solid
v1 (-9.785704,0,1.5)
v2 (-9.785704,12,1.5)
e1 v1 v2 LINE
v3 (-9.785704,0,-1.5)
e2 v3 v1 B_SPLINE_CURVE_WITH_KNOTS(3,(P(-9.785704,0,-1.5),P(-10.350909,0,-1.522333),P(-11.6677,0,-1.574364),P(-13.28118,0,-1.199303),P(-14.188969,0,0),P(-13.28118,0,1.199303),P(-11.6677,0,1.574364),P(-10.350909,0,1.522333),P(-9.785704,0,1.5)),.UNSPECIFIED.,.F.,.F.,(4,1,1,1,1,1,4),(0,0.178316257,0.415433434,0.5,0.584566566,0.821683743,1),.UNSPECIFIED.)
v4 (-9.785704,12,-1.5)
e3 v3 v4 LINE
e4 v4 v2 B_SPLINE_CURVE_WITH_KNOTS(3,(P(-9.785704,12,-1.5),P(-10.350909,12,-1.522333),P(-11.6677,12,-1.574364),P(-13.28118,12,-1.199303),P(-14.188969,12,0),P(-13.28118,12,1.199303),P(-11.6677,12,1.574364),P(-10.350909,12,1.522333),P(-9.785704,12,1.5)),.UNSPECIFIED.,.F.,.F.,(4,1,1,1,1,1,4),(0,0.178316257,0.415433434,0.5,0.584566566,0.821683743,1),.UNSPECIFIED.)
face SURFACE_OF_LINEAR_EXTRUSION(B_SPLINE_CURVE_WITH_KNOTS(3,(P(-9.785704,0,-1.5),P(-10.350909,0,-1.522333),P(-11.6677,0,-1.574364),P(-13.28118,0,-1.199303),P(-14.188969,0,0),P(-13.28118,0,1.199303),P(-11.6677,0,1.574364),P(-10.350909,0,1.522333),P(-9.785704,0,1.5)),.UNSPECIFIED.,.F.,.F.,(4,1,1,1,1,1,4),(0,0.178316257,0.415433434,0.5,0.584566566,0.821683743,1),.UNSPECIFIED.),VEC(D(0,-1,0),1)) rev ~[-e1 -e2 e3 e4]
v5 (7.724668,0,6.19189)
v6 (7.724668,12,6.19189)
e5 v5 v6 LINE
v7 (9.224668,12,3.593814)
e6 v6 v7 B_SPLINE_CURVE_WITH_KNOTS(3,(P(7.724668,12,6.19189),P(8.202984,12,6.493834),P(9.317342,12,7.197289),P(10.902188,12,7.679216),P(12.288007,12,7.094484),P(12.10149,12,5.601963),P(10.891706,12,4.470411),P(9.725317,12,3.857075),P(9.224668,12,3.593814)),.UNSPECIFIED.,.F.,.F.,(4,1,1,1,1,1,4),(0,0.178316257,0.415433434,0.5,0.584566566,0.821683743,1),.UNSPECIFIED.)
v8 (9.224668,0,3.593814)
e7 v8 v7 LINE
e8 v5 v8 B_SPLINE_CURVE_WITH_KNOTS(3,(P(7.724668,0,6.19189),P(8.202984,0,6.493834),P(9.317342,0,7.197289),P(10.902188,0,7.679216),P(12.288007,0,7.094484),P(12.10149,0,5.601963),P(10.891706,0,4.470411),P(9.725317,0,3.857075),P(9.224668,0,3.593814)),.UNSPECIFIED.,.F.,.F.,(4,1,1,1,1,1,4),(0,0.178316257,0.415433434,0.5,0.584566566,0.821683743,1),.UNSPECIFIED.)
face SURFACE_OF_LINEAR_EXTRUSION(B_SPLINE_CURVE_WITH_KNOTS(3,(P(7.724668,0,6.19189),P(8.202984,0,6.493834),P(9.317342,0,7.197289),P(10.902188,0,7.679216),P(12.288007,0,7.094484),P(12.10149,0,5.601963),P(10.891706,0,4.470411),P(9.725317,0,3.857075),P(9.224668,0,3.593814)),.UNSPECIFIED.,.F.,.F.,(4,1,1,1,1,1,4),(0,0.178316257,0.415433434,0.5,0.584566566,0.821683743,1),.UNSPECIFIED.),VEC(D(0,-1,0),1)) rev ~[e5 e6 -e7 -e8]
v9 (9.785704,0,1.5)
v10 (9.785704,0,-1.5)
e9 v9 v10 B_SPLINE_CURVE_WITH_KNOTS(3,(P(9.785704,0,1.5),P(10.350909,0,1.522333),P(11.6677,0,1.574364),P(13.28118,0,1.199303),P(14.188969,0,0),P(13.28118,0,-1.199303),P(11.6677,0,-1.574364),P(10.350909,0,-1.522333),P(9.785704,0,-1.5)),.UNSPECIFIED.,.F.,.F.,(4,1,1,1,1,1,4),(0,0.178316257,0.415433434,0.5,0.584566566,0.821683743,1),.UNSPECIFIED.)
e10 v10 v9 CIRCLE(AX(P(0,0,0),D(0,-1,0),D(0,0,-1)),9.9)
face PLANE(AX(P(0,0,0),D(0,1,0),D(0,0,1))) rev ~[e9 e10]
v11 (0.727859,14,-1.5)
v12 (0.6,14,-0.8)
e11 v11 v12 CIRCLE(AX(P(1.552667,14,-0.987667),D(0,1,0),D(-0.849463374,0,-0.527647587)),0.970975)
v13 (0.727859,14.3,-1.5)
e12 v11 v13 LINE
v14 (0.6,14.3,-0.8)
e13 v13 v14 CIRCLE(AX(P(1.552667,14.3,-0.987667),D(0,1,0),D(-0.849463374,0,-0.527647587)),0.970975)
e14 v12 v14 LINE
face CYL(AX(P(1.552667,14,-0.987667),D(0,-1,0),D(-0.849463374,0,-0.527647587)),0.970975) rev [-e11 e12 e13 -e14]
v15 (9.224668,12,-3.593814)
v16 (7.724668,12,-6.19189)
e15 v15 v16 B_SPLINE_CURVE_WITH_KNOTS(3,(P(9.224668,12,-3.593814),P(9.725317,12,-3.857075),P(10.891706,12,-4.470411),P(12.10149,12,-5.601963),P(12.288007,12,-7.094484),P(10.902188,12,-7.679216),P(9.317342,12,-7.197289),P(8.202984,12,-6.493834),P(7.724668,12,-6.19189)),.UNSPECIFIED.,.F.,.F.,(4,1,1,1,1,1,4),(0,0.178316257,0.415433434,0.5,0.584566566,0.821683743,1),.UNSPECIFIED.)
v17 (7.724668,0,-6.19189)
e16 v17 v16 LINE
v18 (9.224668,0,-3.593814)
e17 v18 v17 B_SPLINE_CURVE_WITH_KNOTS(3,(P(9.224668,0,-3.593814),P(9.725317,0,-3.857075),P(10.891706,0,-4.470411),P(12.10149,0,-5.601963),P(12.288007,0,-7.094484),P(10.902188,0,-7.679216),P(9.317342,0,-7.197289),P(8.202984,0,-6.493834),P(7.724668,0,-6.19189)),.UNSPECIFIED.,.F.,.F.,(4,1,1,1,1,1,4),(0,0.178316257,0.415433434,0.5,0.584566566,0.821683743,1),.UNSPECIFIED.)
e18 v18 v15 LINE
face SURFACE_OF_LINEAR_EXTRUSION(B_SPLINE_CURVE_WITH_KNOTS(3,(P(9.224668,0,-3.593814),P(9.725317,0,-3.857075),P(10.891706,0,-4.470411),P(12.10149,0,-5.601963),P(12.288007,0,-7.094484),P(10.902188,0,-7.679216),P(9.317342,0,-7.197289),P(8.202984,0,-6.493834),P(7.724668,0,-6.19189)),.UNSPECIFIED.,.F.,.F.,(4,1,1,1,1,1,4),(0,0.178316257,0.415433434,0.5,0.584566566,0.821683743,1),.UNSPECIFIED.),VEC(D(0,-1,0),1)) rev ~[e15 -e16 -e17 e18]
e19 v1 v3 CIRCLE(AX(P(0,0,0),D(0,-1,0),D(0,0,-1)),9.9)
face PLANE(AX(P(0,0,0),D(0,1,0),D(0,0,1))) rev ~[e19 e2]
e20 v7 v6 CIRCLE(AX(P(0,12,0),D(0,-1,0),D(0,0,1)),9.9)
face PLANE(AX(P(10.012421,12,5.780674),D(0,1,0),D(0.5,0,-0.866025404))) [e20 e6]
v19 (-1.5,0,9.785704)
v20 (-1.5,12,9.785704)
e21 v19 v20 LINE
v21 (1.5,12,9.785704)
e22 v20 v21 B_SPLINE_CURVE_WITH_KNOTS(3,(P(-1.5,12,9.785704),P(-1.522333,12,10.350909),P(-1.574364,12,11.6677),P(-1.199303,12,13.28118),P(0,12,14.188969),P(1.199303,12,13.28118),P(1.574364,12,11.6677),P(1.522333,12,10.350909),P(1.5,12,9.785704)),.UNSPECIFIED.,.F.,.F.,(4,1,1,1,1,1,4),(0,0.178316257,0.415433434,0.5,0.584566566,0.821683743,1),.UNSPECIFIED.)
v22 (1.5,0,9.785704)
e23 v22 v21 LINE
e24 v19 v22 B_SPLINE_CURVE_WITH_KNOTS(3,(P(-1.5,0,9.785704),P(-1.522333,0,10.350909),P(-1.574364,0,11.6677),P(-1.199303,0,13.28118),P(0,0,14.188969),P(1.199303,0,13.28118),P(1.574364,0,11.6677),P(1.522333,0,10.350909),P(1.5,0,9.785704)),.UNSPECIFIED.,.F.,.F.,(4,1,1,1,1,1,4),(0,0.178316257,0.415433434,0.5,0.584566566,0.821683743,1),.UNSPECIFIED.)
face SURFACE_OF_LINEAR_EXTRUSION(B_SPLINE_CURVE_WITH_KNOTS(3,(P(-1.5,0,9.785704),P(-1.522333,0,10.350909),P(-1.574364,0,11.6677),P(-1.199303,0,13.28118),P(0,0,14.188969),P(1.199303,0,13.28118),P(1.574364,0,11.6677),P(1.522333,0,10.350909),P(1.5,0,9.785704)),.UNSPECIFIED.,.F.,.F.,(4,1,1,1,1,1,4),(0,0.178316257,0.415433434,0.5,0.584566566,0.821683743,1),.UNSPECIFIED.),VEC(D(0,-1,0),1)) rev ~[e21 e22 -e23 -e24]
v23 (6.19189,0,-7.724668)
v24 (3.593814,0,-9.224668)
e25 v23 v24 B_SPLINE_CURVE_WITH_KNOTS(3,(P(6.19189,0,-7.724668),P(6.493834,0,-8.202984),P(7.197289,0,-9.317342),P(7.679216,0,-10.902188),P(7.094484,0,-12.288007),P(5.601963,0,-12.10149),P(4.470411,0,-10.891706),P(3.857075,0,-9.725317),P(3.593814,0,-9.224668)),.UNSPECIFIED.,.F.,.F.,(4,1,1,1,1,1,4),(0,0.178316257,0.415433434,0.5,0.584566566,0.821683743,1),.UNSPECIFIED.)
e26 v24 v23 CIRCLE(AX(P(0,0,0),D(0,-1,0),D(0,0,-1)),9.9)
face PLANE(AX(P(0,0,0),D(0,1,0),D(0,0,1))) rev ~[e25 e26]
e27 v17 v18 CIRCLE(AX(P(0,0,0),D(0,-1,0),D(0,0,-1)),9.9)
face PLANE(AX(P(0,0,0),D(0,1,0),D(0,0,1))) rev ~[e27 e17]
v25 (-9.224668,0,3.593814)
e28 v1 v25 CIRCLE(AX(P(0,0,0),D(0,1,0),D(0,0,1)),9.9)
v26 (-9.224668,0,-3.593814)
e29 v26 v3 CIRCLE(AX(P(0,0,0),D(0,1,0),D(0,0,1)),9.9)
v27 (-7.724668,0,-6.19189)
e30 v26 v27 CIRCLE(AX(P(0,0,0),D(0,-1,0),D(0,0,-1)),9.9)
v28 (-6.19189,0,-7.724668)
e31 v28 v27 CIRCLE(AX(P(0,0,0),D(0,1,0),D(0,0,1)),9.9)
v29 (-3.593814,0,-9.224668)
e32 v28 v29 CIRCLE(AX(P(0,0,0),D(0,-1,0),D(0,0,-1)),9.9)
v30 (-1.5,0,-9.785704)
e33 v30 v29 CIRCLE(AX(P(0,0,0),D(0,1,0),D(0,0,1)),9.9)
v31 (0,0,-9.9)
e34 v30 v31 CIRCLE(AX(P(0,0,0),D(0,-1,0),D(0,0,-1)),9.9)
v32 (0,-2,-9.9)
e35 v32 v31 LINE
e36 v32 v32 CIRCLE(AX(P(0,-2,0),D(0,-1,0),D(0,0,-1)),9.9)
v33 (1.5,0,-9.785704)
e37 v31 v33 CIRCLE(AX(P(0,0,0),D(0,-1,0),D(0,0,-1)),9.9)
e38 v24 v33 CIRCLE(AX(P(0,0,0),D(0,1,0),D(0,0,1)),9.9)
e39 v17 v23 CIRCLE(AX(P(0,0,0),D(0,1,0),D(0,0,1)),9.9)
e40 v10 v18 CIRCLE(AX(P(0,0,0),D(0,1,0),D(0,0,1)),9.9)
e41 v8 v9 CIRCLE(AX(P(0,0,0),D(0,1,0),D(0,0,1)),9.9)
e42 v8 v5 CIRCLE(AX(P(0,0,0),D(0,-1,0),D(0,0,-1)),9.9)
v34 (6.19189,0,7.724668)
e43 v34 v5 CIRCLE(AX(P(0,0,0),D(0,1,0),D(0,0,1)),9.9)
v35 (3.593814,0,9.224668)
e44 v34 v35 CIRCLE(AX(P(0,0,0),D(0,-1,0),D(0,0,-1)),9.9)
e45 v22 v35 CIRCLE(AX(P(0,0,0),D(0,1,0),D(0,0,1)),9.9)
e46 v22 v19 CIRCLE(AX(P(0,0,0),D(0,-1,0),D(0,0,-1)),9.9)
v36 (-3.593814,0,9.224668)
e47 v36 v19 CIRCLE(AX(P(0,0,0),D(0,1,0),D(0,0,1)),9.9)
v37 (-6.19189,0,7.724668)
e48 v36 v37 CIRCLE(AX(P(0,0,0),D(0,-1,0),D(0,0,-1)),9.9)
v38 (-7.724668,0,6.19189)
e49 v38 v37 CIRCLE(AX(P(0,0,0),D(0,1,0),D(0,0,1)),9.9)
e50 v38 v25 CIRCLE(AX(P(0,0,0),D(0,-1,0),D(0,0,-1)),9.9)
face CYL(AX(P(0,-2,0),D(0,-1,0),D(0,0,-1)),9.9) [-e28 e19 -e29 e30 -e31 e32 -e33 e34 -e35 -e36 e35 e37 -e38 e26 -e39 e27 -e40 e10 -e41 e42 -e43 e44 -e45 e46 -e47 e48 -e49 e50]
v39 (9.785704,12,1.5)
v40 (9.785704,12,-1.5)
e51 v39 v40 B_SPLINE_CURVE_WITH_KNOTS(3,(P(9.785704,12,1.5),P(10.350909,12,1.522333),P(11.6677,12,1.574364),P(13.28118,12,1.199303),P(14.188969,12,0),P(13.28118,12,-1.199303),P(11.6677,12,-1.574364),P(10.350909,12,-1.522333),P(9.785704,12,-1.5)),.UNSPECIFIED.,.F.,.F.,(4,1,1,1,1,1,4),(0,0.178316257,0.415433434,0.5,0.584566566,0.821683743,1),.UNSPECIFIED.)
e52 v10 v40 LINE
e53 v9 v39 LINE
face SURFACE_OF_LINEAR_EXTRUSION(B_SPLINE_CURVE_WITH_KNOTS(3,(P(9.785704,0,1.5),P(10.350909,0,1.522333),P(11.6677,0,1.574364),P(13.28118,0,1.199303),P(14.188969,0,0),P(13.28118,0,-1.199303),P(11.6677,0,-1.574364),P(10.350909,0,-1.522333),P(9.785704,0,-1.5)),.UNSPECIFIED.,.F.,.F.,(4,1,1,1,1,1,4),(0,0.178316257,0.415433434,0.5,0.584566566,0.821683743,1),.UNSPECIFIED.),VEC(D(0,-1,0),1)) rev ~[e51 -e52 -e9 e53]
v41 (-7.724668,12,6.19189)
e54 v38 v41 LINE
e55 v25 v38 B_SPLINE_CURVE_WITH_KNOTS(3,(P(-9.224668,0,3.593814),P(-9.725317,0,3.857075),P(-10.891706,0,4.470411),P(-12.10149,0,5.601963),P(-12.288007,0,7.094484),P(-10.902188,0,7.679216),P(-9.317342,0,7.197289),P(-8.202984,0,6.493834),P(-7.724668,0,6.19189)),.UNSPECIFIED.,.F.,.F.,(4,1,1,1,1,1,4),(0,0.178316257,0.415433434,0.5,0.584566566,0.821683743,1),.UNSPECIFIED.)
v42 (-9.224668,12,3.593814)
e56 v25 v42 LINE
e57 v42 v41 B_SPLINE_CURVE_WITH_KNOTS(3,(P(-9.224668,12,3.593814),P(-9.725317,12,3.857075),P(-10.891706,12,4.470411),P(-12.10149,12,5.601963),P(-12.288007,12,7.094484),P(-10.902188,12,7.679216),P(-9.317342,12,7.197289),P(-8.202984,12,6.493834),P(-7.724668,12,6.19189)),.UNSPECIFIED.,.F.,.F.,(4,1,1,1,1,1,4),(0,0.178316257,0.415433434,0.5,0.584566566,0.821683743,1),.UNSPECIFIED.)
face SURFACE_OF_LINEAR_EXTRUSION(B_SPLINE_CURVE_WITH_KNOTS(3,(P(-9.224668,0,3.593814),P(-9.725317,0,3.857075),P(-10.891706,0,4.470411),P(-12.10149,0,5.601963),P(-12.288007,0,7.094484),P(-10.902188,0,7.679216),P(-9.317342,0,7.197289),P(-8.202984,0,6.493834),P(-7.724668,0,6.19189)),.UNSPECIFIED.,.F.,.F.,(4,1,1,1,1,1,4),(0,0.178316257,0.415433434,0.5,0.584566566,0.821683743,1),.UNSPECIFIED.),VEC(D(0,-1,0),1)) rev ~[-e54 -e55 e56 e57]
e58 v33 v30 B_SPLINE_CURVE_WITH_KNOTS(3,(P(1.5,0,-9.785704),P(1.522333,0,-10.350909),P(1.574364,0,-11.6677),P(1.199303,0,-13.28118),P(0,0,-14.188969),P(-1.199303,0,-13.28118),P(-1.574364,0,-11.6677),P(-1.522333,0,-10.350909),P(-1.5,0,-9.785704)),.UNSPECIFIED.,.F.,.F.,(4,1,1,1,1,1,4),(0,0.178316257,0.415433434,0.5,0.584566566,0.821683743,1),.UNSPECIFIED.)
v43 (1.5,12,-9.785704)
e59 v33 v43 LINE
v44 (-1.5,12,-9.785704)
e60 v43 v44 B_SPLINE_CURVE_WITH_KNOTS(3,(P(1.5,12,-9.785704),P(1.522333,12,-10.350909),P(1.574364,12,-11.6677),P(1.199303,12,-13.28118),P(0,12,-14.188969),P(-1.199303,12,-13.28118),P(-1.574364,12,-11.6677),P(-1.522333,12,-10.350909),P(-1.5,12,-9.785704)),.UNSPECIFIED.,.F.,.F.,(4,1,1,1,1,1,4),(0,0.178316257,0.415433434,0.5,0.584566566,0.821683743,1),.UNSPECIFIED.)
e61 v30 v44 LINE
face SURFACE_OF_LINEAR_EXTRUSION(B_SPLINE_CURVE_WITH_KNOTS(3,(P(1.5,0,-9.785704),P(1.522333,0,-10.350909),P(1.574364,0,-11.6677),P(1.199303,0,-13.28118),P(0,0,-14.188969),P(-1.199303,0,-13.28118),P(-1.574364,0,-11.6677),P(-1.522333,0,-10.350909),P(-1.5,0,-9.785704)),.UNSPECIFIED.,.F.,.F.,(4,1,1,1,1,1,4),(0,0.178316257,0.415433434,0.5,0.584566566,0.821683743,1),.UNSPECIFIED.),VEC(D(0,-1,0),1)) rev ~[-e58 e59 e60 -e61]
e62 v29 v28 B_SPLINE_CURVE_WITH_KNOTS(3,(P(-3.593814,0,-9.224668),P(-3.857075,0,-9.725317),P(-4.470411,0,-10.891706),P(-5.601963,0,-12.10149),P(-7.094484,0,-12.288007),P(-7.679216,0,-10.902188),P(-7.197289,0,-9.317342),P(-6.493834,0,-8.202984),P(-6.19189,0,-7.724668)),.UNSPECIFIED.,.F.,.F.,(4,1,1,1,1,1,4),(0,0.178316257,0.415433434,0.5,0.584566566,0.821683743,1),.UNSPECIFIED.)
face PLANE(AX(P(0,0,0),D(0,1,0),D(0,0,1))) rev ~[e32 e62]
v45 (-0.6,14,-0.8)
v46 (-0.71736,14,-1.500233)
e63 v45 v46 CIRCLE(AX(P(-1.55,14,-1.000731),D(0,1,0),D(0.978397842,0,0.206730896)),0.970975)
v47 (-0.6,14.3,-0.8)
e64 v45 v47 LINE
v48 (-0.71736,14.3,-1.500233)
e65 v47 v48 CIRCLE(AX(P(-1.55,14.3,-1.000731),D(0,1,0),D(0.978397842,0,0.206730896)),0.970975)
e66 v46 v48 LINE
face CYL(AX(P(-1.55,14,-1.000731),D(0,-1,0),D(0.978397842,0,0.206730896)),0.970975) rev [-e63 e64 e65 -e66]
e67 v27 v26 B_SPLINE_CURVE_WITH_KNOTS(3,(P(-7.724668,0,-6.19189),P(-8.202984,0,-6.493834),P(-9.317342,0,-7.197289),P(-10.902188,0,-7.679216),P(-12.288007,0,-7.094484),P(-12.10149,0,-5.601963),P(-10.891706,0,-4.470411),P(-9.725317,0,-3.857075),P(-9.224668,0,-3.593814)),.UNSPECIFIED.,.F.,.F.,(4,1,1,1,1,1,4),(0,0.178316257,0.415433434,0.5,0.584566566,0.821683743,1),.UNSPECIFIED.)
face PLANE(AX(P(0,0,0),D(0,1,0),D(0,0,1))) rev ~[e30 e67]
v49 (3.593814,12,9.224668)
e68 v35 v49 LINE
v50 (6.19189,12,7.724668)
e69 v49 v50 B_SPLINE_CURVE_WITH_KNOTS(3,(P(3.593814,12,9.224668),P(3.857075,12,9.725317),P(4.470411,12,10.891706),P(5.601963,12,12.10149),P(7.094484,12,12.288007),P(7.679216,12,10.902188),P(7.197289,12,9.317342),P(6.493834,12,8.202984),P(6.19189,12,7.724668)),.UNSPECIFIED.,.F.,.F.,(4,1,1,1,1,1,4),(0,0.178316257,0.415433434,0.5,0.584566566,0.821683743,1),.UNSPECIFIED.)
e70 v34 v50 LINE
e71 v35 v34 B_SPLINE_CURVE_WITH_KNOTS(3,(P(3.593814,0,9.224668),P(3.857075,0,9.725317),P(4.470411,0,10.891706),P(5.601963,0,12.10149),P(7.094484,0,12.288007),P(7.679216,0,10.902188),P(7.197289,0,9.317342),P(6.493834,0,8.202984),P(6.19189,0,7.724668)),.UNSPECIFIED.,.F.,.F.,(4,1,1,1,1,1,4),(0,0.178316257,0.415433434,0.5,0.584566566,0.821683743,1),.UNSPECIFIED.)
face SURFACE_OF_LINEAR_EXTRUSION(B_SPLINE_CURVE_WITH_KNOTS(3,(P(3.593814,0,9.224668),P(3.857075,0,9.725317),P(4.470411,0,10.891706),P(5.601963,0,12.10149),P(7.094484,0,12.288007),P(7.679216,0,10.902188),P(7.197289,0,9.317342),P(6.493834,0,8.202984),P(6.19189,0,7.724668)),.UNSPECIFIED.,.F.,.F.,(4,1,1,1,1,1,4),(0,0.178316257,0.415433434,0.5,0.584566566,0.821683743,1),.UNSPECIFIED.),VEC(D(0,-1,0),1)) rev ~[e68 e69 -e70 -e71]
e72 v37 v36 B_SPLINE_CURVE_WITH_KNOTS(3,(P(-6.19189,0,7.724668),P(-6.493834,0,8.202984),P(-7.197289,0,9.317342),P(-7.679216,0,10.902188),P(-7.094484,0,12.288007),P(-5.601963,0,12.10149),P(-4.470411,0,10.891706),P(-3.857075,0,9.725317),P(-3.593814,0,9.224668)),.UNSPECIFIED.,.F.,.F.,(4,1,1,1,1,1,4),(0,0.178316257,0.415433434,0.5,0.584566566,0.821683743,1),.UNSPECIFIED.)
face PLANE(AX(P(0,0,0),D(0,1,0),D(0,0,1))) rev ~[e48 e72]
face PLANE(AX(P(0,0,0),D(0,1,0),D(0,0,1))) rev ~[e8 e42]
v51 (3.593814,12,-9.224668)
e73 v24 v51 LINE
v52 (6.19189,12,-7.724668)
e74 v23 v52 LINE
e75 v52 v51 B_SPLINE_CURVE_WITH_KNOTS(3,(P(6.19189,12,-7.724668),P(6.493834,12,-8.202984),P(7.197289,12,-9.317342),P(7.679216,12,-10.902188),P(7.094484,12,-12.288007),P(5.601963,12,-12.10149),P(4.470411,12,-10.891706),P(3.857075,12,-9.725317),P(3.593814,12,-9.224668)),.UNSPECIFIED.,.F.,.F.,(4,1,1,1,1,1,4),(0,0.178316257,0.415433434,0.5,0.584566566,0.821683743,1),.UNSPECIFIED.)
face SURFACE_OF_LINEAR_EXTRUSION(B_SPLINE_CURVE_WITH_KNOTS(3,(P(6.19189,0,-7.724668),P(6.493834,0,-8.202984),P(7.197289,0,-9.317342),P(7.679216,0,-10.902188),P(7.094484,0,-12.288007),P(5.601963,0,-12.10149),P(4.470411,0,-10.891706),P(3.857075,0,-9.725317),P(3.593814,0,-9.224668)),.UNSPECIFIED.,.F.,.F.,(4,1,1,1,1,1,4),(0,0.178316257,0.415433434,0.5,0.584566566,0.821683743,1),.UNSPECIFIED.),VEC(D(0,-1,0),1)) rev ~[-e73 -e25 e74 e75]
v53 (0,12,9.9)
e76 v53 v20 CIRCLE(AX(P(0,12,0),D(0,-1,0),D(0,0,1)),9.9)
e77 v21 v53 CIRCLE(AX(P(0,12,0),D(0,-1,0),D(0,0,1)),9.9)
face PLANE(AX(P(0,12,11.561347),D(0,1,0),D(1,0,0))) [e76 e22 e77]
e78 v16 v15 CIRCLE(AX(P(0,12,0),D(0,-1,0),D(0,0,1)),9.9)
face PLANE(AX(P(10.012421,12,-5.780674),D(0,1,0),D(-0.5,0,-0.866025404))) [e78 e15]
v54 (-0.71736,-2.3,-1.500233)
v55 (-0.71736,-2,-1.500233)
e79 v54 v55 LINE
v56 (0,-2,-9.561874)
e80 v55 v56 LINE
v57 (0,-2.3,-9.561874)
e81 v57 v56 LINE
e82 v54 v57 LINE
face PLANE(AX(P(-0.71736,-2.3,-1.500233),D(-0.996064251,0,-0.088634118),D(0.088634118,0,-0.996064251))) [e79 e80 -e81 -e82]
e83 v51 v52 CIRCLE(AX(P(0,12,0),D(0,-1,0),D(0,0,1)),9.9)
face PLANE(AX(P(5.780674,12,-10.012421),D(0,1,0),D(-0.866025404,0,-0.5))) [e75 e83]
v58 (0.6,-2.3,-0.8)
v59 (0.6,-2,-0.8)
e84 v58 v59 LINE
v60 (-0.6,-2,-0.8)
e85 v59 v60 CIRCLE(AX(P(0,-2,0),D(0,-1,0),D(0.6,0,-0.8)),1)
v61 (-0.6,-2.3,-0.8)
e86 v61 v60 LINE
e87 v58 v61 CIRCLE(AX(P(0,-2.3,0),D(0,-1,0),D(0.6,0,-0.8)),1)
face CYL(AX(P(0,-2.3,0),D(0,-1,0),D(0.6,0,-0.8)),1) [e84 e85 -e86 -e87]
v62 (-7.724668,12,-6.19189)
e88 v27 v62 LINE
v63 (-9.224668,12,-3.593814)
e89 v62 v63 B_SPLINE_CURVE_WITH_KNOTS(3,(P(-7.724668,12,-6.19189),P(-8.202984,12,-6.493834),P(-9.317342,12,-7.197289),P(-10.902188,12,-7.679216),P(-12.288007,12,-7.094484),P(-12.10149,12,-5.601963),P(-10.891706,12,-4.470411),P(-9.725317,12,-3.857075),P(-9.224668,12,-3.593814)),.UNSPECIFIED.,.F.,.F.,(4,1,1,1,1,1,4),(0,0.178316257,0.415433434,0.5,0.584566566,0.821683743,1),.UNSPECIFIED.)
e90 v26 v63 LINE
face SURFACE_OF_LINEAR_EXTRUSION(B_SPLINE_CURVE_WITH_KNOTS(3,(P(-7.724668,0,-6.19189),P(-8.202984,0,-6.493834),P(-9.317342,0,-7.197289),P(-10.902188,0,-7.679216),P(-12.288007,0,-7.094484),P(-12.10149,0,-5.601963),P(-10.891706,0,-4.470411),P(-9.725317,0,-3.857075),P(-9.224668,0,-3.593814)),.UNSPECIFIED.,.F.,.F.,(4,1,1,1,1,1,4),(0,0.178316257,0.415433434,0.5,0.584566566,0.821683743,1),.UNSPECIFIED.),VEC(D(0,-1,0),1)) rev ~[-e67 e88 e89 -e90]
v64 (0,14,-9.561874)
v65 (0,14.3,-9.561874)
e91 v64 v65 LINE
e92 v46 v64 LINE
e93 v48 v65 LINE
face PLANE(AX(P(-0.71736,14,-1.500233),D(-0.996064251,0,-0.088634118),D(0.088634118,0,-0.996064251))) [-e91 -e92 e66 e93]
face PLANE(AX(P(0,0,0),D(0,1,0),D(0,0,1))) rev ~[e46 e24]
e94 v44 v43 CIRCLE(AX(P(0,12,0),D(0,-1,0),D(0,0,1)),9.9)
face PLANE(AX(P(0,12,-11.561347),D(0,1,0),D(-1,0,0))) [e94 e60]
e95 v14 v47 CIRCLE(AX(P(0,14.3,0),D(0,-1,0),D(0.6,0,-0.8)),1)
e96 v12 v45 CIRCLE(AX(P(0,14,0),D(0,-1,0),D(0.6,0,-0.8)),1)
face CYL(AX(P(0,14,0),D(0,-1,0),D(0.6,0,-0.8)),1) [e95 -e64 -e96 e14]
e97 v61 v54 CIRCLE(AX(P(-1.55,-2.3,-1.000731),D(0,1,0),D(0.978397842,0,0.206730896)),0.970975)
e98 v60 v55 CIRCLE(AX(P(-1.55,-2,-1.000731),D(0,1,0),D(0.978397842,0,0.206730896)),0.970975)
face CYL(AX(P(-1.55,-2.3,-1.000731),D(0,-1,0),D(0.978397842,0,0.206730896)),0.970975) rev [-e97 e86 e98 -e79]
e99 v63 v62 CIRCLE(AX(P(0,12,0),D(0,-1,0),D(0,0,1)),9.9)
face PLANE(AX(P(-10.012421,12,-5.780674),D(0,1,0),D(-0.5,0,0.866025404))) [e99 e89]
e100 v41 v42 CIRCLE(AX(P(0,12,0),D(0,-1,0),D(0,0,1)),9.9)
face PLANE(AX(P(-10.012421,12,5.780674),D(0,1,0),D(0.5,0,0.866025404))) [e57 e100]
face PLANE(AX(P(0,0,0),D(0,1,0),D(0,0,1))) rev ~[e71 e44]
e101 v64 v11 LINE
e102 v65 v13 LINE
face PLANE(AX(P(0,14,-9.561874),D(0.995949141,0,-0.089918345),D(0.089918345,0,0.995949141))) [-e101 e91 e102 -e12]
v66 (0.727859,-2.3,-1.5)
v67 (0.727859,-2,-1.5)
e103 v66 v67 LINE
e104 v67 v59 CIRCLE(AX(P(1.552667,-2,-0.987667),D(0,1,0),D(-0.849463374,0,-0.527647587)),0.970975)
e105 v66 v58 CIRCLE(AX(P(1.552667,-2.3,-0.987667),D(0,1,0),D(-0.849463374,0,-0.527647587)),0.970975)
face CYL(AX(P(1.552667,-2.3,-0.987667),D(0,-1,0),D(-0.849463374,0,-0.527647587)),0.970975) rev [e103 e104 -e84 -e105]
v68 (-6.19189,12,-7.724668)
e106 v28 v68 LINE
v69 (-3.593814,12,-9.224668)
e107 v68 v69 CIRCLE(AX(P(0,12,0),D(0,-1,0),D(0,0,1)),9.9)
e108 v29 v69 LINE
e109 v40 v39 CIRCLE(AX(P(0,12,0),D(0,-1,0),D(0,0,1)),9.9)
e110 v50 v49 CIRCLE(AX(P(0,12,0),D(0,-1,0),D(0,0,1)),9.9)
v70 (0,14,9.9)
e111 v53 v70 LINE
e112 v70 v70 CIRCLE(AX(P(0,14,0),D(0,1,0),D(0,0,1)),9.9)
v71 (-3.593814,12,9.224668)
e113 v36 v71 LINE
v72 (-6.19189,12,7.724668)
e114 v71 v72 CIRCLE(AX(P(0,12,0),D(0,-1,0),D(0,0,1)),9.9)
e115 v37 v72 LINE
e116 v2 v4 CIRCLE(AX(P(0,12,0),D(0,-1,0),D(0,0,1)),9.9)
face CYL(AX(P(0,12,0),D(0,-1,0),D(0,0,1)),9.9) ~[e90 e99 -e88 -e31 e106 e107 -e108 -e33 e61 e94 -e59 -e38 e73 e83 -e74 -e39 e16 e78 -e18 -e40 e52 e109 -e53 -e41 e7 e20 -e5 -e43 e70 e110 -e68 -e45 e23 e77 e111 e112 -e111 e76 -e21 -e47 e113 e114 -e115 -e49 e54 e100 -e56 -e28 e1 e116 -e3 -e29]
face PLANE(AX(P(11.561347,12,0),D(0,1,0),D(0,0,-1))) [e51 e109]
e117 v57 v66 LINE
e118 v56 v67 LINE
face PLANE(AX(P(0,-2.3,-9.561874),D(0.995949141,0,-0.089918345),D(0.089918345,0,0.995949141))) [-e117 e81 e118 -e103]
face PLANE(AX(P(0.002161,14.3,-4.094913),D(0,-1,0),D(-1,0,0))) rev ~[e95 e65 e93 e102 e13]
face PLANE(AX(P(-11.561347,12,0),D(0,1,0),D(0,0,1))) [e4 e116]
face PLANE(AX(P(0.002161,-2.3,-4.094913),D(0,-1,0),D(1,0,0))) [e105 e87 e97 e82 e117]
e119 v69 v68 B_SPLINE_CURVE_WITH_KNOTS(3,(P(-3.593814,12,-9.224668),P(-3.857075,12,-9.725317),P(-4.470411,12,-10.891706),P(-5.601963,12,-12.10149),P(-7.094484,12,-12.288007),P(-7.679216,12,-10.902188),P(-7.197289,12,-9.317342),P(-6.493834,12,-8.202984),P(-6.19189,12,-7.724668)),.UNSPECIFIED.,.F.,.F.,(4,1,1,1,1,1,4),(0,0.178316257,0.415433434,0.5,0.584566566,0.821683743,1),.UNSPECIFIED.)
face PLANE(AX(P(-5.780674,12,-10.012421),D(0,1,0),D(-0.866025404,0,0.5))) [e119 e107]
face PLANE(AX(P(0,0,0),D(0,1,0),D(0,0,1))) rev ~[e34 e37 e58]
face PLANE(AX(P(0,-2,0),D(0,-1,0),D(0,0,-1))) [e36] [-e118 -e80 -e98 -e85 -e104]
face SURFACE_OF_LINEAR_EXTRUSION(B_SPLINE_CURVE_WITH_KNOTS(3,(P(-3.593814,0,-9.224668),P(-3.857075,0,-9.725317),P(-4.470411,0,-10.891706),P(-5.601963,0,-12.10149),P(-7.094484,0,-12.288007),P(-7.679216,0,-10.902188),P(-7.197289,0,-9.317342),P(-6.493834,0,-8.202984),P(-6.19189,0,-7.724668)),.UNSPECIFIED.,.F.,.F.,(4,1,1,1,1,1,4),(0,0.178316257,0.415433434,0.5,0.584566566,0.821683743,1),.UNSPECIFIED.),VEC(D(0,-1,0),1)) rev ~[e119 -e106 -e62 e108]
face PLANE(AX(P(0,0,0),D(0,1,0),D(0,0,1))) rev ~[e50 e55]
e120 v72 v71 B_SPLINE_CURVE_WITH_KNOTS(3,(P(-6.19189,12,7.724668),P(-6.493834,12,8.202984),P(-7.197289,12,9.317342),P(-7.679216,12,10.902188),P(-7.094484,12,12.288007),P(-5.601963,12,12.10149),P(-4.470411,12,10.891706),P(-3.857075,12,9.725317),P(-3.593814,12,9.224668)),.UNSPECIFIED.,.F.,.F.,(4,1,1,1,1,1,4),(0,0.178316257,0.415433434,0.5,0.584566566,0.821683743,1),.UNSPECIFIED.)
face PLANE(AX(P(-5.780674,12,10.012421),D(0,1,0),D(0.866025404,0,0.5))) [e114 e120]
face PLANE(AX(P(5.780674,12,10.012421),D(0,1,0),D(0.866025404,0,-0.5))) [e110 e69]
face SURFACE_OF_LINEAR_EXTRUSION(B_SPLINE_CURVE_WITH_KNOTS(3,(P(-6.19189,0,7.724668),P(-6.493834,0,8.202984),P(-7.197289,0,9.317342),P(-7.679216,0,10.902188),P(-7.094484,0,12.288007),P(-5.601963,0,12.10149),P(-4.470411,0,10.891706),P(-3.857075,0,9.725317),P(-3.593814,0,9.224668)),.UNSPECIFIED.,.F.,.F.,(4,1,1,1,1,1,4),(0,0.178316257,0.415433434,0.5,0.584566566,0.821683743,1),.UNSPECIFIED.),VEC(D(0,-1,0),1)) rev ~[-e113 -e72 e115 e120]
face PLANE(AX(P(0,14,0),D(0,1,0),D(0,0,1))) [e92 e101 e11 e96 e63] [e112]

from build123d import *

# Parameters (mm, degrees)
SKETCH1_R           = 9.9
BOSS_EXTRUDE1_DEPTH = 12
SKETCH2_R           = 9.9
BOSS_EXTRUDE2_DEPTH = 2
BOSS_EXTRUDE3_DEPTH = 0.3
BOSS_EXTRUDE5_DEPTH = 12
CIRPATTERN1_COUNT   = 12
BOSS_EXTRUDE6_START = 2
SKETCH5_R           = 9.9
BOSS_EXTRUDE6_DEPTH = 2
BOSS_EXTRUDE7_START = 0.3
BOSS_EXTRUDE7_DEPTH = 0.3


with BuildPart() as part:
    # Sketch1 → Boss-Extrude1 (new body)
    with BuildSketch(Plane(origin=(0, 0, 0), x_dir=(1, 0, 0), z_dir=(0, 1, 0))):
        with Locations(Location((0, 0, 0), (0, 0, 270))):
            Circle(SKETCH1_R)
    extrude(amount=BOSS_EXTRUDE1_DEPTH)

    # Sketch2 → Boss-Extrude2 (add)
    with BuildSketch(Plane(origin=(0, 12, 0), x_dir=(1, 0, 0), z_dir=(0, 1, 0))):
        with Locations(Location((0, 0, 0), (0, 0, 270))):
            Circle(SKETCH2_R)
    extrude(amount=BOSS_EXTRUDE2_DEPTH)

    # Sketch3 → Boss-Extrude3 (add)
    with BuildSketch(Plane(origin=(0, 14, 0), x_dir=(1, 0, 0), z_dir=(0, 1, 0))):
        with BuildLine():
            Line((0, 9.561873975), (0.727858815, 1.5))
            ThreePointArc((0.727858815, 1.5), (0.597494474, 1.162134703), (0.6, 0.8))
            ThreePointArc((0.6, 0.8), (0, -1), (-0.6, 0.8))
            ThreePointArc((-0.6, 0.8), (-0.592381481, 1.161228328), (-0.71735976, 1.500233309))
            Line((-0.71735976, 1.500233309), (0, 9.561873975))
        make_face()
    extrude(amount=BOSS_EXTRUDE3_DEPTH)

    # Sketch4 → Boss-Extrude5 (add)
    with BuildSketch(Plane.XZ):
        with BuildLine():
            Line((-1.5, -9.785703858), (1.5, -9.785703858))
            add(Edge.make_bspline(
                [(1.5, -9.785703858), (1.52233311, -10.350909106), (1.574363817, -11.667699624), (1.199302648, -13.281179815), (0, -14.188968688), (-1.199302648, -13.281179815), (-1.574363817, -11.667699624), (-1.52233311, -10.350909106), (-1.5, -9.785703858)],
                knots=[0, 0, 0, 0, 0.178316257, 0.415433434, 0.5, 0.584566566, 0.821683743, 1, 1, 1, 1], degree=3))
        make_face()
    boss_extrude5 = extrude(amount=-BOSS_EXTRUDE5_DEPTH)

    # CirPattern1: Boss-Extrude5 ×12 about axis
    cirpattern1_axis = Axis((0, 0, 0), (0, 1, 0))
    for i in range(1, CIRPATTERN1_COUNT):
        add(boss_extrude5.rotate(cirpattern1_axis, i * 360 / CIRPATTERN1_COUNT))

    # Sketch5 → Boss-Extrude6 (add)
    with BuildSketch(Plane.XZ.offset(BOSS_EXTRUDE6_START)):
        with Locations(Location((0, 0, 0), (0, 0, 270))):
            Circle(SKETCH5_R)
    extrude(amount=-BOSS_EXTRUDE6_DEPTH)

    # Sketch6 → Boss-Extrude7 (add)
    with BuildSketch(Plane.XZ.offset(2).offset(BOSS_EXTRUDE7_START)):
        with BuildLine():
            Line((0, -9.561873975), (0.727858815, -1.5))
            ThreePointArc((0.727858815, -1.5), (0.597494474, -1.162134703), (0.6, -0.8))
            ThreePointArc((0.6, -0.8), (0, 1), (-0.6, -0.8))
            ThreePointArc((-0.6, -0.8), (-0.592381481, -1.161228328), (-0.71735976, -1.500233309))
            Line((-0.71735976, -1.500233309), (0, -9.561873975))
        make_face()
    extrude(amount=-BOSS_EXTRUDE7_DEPTH)


solid = part.part
